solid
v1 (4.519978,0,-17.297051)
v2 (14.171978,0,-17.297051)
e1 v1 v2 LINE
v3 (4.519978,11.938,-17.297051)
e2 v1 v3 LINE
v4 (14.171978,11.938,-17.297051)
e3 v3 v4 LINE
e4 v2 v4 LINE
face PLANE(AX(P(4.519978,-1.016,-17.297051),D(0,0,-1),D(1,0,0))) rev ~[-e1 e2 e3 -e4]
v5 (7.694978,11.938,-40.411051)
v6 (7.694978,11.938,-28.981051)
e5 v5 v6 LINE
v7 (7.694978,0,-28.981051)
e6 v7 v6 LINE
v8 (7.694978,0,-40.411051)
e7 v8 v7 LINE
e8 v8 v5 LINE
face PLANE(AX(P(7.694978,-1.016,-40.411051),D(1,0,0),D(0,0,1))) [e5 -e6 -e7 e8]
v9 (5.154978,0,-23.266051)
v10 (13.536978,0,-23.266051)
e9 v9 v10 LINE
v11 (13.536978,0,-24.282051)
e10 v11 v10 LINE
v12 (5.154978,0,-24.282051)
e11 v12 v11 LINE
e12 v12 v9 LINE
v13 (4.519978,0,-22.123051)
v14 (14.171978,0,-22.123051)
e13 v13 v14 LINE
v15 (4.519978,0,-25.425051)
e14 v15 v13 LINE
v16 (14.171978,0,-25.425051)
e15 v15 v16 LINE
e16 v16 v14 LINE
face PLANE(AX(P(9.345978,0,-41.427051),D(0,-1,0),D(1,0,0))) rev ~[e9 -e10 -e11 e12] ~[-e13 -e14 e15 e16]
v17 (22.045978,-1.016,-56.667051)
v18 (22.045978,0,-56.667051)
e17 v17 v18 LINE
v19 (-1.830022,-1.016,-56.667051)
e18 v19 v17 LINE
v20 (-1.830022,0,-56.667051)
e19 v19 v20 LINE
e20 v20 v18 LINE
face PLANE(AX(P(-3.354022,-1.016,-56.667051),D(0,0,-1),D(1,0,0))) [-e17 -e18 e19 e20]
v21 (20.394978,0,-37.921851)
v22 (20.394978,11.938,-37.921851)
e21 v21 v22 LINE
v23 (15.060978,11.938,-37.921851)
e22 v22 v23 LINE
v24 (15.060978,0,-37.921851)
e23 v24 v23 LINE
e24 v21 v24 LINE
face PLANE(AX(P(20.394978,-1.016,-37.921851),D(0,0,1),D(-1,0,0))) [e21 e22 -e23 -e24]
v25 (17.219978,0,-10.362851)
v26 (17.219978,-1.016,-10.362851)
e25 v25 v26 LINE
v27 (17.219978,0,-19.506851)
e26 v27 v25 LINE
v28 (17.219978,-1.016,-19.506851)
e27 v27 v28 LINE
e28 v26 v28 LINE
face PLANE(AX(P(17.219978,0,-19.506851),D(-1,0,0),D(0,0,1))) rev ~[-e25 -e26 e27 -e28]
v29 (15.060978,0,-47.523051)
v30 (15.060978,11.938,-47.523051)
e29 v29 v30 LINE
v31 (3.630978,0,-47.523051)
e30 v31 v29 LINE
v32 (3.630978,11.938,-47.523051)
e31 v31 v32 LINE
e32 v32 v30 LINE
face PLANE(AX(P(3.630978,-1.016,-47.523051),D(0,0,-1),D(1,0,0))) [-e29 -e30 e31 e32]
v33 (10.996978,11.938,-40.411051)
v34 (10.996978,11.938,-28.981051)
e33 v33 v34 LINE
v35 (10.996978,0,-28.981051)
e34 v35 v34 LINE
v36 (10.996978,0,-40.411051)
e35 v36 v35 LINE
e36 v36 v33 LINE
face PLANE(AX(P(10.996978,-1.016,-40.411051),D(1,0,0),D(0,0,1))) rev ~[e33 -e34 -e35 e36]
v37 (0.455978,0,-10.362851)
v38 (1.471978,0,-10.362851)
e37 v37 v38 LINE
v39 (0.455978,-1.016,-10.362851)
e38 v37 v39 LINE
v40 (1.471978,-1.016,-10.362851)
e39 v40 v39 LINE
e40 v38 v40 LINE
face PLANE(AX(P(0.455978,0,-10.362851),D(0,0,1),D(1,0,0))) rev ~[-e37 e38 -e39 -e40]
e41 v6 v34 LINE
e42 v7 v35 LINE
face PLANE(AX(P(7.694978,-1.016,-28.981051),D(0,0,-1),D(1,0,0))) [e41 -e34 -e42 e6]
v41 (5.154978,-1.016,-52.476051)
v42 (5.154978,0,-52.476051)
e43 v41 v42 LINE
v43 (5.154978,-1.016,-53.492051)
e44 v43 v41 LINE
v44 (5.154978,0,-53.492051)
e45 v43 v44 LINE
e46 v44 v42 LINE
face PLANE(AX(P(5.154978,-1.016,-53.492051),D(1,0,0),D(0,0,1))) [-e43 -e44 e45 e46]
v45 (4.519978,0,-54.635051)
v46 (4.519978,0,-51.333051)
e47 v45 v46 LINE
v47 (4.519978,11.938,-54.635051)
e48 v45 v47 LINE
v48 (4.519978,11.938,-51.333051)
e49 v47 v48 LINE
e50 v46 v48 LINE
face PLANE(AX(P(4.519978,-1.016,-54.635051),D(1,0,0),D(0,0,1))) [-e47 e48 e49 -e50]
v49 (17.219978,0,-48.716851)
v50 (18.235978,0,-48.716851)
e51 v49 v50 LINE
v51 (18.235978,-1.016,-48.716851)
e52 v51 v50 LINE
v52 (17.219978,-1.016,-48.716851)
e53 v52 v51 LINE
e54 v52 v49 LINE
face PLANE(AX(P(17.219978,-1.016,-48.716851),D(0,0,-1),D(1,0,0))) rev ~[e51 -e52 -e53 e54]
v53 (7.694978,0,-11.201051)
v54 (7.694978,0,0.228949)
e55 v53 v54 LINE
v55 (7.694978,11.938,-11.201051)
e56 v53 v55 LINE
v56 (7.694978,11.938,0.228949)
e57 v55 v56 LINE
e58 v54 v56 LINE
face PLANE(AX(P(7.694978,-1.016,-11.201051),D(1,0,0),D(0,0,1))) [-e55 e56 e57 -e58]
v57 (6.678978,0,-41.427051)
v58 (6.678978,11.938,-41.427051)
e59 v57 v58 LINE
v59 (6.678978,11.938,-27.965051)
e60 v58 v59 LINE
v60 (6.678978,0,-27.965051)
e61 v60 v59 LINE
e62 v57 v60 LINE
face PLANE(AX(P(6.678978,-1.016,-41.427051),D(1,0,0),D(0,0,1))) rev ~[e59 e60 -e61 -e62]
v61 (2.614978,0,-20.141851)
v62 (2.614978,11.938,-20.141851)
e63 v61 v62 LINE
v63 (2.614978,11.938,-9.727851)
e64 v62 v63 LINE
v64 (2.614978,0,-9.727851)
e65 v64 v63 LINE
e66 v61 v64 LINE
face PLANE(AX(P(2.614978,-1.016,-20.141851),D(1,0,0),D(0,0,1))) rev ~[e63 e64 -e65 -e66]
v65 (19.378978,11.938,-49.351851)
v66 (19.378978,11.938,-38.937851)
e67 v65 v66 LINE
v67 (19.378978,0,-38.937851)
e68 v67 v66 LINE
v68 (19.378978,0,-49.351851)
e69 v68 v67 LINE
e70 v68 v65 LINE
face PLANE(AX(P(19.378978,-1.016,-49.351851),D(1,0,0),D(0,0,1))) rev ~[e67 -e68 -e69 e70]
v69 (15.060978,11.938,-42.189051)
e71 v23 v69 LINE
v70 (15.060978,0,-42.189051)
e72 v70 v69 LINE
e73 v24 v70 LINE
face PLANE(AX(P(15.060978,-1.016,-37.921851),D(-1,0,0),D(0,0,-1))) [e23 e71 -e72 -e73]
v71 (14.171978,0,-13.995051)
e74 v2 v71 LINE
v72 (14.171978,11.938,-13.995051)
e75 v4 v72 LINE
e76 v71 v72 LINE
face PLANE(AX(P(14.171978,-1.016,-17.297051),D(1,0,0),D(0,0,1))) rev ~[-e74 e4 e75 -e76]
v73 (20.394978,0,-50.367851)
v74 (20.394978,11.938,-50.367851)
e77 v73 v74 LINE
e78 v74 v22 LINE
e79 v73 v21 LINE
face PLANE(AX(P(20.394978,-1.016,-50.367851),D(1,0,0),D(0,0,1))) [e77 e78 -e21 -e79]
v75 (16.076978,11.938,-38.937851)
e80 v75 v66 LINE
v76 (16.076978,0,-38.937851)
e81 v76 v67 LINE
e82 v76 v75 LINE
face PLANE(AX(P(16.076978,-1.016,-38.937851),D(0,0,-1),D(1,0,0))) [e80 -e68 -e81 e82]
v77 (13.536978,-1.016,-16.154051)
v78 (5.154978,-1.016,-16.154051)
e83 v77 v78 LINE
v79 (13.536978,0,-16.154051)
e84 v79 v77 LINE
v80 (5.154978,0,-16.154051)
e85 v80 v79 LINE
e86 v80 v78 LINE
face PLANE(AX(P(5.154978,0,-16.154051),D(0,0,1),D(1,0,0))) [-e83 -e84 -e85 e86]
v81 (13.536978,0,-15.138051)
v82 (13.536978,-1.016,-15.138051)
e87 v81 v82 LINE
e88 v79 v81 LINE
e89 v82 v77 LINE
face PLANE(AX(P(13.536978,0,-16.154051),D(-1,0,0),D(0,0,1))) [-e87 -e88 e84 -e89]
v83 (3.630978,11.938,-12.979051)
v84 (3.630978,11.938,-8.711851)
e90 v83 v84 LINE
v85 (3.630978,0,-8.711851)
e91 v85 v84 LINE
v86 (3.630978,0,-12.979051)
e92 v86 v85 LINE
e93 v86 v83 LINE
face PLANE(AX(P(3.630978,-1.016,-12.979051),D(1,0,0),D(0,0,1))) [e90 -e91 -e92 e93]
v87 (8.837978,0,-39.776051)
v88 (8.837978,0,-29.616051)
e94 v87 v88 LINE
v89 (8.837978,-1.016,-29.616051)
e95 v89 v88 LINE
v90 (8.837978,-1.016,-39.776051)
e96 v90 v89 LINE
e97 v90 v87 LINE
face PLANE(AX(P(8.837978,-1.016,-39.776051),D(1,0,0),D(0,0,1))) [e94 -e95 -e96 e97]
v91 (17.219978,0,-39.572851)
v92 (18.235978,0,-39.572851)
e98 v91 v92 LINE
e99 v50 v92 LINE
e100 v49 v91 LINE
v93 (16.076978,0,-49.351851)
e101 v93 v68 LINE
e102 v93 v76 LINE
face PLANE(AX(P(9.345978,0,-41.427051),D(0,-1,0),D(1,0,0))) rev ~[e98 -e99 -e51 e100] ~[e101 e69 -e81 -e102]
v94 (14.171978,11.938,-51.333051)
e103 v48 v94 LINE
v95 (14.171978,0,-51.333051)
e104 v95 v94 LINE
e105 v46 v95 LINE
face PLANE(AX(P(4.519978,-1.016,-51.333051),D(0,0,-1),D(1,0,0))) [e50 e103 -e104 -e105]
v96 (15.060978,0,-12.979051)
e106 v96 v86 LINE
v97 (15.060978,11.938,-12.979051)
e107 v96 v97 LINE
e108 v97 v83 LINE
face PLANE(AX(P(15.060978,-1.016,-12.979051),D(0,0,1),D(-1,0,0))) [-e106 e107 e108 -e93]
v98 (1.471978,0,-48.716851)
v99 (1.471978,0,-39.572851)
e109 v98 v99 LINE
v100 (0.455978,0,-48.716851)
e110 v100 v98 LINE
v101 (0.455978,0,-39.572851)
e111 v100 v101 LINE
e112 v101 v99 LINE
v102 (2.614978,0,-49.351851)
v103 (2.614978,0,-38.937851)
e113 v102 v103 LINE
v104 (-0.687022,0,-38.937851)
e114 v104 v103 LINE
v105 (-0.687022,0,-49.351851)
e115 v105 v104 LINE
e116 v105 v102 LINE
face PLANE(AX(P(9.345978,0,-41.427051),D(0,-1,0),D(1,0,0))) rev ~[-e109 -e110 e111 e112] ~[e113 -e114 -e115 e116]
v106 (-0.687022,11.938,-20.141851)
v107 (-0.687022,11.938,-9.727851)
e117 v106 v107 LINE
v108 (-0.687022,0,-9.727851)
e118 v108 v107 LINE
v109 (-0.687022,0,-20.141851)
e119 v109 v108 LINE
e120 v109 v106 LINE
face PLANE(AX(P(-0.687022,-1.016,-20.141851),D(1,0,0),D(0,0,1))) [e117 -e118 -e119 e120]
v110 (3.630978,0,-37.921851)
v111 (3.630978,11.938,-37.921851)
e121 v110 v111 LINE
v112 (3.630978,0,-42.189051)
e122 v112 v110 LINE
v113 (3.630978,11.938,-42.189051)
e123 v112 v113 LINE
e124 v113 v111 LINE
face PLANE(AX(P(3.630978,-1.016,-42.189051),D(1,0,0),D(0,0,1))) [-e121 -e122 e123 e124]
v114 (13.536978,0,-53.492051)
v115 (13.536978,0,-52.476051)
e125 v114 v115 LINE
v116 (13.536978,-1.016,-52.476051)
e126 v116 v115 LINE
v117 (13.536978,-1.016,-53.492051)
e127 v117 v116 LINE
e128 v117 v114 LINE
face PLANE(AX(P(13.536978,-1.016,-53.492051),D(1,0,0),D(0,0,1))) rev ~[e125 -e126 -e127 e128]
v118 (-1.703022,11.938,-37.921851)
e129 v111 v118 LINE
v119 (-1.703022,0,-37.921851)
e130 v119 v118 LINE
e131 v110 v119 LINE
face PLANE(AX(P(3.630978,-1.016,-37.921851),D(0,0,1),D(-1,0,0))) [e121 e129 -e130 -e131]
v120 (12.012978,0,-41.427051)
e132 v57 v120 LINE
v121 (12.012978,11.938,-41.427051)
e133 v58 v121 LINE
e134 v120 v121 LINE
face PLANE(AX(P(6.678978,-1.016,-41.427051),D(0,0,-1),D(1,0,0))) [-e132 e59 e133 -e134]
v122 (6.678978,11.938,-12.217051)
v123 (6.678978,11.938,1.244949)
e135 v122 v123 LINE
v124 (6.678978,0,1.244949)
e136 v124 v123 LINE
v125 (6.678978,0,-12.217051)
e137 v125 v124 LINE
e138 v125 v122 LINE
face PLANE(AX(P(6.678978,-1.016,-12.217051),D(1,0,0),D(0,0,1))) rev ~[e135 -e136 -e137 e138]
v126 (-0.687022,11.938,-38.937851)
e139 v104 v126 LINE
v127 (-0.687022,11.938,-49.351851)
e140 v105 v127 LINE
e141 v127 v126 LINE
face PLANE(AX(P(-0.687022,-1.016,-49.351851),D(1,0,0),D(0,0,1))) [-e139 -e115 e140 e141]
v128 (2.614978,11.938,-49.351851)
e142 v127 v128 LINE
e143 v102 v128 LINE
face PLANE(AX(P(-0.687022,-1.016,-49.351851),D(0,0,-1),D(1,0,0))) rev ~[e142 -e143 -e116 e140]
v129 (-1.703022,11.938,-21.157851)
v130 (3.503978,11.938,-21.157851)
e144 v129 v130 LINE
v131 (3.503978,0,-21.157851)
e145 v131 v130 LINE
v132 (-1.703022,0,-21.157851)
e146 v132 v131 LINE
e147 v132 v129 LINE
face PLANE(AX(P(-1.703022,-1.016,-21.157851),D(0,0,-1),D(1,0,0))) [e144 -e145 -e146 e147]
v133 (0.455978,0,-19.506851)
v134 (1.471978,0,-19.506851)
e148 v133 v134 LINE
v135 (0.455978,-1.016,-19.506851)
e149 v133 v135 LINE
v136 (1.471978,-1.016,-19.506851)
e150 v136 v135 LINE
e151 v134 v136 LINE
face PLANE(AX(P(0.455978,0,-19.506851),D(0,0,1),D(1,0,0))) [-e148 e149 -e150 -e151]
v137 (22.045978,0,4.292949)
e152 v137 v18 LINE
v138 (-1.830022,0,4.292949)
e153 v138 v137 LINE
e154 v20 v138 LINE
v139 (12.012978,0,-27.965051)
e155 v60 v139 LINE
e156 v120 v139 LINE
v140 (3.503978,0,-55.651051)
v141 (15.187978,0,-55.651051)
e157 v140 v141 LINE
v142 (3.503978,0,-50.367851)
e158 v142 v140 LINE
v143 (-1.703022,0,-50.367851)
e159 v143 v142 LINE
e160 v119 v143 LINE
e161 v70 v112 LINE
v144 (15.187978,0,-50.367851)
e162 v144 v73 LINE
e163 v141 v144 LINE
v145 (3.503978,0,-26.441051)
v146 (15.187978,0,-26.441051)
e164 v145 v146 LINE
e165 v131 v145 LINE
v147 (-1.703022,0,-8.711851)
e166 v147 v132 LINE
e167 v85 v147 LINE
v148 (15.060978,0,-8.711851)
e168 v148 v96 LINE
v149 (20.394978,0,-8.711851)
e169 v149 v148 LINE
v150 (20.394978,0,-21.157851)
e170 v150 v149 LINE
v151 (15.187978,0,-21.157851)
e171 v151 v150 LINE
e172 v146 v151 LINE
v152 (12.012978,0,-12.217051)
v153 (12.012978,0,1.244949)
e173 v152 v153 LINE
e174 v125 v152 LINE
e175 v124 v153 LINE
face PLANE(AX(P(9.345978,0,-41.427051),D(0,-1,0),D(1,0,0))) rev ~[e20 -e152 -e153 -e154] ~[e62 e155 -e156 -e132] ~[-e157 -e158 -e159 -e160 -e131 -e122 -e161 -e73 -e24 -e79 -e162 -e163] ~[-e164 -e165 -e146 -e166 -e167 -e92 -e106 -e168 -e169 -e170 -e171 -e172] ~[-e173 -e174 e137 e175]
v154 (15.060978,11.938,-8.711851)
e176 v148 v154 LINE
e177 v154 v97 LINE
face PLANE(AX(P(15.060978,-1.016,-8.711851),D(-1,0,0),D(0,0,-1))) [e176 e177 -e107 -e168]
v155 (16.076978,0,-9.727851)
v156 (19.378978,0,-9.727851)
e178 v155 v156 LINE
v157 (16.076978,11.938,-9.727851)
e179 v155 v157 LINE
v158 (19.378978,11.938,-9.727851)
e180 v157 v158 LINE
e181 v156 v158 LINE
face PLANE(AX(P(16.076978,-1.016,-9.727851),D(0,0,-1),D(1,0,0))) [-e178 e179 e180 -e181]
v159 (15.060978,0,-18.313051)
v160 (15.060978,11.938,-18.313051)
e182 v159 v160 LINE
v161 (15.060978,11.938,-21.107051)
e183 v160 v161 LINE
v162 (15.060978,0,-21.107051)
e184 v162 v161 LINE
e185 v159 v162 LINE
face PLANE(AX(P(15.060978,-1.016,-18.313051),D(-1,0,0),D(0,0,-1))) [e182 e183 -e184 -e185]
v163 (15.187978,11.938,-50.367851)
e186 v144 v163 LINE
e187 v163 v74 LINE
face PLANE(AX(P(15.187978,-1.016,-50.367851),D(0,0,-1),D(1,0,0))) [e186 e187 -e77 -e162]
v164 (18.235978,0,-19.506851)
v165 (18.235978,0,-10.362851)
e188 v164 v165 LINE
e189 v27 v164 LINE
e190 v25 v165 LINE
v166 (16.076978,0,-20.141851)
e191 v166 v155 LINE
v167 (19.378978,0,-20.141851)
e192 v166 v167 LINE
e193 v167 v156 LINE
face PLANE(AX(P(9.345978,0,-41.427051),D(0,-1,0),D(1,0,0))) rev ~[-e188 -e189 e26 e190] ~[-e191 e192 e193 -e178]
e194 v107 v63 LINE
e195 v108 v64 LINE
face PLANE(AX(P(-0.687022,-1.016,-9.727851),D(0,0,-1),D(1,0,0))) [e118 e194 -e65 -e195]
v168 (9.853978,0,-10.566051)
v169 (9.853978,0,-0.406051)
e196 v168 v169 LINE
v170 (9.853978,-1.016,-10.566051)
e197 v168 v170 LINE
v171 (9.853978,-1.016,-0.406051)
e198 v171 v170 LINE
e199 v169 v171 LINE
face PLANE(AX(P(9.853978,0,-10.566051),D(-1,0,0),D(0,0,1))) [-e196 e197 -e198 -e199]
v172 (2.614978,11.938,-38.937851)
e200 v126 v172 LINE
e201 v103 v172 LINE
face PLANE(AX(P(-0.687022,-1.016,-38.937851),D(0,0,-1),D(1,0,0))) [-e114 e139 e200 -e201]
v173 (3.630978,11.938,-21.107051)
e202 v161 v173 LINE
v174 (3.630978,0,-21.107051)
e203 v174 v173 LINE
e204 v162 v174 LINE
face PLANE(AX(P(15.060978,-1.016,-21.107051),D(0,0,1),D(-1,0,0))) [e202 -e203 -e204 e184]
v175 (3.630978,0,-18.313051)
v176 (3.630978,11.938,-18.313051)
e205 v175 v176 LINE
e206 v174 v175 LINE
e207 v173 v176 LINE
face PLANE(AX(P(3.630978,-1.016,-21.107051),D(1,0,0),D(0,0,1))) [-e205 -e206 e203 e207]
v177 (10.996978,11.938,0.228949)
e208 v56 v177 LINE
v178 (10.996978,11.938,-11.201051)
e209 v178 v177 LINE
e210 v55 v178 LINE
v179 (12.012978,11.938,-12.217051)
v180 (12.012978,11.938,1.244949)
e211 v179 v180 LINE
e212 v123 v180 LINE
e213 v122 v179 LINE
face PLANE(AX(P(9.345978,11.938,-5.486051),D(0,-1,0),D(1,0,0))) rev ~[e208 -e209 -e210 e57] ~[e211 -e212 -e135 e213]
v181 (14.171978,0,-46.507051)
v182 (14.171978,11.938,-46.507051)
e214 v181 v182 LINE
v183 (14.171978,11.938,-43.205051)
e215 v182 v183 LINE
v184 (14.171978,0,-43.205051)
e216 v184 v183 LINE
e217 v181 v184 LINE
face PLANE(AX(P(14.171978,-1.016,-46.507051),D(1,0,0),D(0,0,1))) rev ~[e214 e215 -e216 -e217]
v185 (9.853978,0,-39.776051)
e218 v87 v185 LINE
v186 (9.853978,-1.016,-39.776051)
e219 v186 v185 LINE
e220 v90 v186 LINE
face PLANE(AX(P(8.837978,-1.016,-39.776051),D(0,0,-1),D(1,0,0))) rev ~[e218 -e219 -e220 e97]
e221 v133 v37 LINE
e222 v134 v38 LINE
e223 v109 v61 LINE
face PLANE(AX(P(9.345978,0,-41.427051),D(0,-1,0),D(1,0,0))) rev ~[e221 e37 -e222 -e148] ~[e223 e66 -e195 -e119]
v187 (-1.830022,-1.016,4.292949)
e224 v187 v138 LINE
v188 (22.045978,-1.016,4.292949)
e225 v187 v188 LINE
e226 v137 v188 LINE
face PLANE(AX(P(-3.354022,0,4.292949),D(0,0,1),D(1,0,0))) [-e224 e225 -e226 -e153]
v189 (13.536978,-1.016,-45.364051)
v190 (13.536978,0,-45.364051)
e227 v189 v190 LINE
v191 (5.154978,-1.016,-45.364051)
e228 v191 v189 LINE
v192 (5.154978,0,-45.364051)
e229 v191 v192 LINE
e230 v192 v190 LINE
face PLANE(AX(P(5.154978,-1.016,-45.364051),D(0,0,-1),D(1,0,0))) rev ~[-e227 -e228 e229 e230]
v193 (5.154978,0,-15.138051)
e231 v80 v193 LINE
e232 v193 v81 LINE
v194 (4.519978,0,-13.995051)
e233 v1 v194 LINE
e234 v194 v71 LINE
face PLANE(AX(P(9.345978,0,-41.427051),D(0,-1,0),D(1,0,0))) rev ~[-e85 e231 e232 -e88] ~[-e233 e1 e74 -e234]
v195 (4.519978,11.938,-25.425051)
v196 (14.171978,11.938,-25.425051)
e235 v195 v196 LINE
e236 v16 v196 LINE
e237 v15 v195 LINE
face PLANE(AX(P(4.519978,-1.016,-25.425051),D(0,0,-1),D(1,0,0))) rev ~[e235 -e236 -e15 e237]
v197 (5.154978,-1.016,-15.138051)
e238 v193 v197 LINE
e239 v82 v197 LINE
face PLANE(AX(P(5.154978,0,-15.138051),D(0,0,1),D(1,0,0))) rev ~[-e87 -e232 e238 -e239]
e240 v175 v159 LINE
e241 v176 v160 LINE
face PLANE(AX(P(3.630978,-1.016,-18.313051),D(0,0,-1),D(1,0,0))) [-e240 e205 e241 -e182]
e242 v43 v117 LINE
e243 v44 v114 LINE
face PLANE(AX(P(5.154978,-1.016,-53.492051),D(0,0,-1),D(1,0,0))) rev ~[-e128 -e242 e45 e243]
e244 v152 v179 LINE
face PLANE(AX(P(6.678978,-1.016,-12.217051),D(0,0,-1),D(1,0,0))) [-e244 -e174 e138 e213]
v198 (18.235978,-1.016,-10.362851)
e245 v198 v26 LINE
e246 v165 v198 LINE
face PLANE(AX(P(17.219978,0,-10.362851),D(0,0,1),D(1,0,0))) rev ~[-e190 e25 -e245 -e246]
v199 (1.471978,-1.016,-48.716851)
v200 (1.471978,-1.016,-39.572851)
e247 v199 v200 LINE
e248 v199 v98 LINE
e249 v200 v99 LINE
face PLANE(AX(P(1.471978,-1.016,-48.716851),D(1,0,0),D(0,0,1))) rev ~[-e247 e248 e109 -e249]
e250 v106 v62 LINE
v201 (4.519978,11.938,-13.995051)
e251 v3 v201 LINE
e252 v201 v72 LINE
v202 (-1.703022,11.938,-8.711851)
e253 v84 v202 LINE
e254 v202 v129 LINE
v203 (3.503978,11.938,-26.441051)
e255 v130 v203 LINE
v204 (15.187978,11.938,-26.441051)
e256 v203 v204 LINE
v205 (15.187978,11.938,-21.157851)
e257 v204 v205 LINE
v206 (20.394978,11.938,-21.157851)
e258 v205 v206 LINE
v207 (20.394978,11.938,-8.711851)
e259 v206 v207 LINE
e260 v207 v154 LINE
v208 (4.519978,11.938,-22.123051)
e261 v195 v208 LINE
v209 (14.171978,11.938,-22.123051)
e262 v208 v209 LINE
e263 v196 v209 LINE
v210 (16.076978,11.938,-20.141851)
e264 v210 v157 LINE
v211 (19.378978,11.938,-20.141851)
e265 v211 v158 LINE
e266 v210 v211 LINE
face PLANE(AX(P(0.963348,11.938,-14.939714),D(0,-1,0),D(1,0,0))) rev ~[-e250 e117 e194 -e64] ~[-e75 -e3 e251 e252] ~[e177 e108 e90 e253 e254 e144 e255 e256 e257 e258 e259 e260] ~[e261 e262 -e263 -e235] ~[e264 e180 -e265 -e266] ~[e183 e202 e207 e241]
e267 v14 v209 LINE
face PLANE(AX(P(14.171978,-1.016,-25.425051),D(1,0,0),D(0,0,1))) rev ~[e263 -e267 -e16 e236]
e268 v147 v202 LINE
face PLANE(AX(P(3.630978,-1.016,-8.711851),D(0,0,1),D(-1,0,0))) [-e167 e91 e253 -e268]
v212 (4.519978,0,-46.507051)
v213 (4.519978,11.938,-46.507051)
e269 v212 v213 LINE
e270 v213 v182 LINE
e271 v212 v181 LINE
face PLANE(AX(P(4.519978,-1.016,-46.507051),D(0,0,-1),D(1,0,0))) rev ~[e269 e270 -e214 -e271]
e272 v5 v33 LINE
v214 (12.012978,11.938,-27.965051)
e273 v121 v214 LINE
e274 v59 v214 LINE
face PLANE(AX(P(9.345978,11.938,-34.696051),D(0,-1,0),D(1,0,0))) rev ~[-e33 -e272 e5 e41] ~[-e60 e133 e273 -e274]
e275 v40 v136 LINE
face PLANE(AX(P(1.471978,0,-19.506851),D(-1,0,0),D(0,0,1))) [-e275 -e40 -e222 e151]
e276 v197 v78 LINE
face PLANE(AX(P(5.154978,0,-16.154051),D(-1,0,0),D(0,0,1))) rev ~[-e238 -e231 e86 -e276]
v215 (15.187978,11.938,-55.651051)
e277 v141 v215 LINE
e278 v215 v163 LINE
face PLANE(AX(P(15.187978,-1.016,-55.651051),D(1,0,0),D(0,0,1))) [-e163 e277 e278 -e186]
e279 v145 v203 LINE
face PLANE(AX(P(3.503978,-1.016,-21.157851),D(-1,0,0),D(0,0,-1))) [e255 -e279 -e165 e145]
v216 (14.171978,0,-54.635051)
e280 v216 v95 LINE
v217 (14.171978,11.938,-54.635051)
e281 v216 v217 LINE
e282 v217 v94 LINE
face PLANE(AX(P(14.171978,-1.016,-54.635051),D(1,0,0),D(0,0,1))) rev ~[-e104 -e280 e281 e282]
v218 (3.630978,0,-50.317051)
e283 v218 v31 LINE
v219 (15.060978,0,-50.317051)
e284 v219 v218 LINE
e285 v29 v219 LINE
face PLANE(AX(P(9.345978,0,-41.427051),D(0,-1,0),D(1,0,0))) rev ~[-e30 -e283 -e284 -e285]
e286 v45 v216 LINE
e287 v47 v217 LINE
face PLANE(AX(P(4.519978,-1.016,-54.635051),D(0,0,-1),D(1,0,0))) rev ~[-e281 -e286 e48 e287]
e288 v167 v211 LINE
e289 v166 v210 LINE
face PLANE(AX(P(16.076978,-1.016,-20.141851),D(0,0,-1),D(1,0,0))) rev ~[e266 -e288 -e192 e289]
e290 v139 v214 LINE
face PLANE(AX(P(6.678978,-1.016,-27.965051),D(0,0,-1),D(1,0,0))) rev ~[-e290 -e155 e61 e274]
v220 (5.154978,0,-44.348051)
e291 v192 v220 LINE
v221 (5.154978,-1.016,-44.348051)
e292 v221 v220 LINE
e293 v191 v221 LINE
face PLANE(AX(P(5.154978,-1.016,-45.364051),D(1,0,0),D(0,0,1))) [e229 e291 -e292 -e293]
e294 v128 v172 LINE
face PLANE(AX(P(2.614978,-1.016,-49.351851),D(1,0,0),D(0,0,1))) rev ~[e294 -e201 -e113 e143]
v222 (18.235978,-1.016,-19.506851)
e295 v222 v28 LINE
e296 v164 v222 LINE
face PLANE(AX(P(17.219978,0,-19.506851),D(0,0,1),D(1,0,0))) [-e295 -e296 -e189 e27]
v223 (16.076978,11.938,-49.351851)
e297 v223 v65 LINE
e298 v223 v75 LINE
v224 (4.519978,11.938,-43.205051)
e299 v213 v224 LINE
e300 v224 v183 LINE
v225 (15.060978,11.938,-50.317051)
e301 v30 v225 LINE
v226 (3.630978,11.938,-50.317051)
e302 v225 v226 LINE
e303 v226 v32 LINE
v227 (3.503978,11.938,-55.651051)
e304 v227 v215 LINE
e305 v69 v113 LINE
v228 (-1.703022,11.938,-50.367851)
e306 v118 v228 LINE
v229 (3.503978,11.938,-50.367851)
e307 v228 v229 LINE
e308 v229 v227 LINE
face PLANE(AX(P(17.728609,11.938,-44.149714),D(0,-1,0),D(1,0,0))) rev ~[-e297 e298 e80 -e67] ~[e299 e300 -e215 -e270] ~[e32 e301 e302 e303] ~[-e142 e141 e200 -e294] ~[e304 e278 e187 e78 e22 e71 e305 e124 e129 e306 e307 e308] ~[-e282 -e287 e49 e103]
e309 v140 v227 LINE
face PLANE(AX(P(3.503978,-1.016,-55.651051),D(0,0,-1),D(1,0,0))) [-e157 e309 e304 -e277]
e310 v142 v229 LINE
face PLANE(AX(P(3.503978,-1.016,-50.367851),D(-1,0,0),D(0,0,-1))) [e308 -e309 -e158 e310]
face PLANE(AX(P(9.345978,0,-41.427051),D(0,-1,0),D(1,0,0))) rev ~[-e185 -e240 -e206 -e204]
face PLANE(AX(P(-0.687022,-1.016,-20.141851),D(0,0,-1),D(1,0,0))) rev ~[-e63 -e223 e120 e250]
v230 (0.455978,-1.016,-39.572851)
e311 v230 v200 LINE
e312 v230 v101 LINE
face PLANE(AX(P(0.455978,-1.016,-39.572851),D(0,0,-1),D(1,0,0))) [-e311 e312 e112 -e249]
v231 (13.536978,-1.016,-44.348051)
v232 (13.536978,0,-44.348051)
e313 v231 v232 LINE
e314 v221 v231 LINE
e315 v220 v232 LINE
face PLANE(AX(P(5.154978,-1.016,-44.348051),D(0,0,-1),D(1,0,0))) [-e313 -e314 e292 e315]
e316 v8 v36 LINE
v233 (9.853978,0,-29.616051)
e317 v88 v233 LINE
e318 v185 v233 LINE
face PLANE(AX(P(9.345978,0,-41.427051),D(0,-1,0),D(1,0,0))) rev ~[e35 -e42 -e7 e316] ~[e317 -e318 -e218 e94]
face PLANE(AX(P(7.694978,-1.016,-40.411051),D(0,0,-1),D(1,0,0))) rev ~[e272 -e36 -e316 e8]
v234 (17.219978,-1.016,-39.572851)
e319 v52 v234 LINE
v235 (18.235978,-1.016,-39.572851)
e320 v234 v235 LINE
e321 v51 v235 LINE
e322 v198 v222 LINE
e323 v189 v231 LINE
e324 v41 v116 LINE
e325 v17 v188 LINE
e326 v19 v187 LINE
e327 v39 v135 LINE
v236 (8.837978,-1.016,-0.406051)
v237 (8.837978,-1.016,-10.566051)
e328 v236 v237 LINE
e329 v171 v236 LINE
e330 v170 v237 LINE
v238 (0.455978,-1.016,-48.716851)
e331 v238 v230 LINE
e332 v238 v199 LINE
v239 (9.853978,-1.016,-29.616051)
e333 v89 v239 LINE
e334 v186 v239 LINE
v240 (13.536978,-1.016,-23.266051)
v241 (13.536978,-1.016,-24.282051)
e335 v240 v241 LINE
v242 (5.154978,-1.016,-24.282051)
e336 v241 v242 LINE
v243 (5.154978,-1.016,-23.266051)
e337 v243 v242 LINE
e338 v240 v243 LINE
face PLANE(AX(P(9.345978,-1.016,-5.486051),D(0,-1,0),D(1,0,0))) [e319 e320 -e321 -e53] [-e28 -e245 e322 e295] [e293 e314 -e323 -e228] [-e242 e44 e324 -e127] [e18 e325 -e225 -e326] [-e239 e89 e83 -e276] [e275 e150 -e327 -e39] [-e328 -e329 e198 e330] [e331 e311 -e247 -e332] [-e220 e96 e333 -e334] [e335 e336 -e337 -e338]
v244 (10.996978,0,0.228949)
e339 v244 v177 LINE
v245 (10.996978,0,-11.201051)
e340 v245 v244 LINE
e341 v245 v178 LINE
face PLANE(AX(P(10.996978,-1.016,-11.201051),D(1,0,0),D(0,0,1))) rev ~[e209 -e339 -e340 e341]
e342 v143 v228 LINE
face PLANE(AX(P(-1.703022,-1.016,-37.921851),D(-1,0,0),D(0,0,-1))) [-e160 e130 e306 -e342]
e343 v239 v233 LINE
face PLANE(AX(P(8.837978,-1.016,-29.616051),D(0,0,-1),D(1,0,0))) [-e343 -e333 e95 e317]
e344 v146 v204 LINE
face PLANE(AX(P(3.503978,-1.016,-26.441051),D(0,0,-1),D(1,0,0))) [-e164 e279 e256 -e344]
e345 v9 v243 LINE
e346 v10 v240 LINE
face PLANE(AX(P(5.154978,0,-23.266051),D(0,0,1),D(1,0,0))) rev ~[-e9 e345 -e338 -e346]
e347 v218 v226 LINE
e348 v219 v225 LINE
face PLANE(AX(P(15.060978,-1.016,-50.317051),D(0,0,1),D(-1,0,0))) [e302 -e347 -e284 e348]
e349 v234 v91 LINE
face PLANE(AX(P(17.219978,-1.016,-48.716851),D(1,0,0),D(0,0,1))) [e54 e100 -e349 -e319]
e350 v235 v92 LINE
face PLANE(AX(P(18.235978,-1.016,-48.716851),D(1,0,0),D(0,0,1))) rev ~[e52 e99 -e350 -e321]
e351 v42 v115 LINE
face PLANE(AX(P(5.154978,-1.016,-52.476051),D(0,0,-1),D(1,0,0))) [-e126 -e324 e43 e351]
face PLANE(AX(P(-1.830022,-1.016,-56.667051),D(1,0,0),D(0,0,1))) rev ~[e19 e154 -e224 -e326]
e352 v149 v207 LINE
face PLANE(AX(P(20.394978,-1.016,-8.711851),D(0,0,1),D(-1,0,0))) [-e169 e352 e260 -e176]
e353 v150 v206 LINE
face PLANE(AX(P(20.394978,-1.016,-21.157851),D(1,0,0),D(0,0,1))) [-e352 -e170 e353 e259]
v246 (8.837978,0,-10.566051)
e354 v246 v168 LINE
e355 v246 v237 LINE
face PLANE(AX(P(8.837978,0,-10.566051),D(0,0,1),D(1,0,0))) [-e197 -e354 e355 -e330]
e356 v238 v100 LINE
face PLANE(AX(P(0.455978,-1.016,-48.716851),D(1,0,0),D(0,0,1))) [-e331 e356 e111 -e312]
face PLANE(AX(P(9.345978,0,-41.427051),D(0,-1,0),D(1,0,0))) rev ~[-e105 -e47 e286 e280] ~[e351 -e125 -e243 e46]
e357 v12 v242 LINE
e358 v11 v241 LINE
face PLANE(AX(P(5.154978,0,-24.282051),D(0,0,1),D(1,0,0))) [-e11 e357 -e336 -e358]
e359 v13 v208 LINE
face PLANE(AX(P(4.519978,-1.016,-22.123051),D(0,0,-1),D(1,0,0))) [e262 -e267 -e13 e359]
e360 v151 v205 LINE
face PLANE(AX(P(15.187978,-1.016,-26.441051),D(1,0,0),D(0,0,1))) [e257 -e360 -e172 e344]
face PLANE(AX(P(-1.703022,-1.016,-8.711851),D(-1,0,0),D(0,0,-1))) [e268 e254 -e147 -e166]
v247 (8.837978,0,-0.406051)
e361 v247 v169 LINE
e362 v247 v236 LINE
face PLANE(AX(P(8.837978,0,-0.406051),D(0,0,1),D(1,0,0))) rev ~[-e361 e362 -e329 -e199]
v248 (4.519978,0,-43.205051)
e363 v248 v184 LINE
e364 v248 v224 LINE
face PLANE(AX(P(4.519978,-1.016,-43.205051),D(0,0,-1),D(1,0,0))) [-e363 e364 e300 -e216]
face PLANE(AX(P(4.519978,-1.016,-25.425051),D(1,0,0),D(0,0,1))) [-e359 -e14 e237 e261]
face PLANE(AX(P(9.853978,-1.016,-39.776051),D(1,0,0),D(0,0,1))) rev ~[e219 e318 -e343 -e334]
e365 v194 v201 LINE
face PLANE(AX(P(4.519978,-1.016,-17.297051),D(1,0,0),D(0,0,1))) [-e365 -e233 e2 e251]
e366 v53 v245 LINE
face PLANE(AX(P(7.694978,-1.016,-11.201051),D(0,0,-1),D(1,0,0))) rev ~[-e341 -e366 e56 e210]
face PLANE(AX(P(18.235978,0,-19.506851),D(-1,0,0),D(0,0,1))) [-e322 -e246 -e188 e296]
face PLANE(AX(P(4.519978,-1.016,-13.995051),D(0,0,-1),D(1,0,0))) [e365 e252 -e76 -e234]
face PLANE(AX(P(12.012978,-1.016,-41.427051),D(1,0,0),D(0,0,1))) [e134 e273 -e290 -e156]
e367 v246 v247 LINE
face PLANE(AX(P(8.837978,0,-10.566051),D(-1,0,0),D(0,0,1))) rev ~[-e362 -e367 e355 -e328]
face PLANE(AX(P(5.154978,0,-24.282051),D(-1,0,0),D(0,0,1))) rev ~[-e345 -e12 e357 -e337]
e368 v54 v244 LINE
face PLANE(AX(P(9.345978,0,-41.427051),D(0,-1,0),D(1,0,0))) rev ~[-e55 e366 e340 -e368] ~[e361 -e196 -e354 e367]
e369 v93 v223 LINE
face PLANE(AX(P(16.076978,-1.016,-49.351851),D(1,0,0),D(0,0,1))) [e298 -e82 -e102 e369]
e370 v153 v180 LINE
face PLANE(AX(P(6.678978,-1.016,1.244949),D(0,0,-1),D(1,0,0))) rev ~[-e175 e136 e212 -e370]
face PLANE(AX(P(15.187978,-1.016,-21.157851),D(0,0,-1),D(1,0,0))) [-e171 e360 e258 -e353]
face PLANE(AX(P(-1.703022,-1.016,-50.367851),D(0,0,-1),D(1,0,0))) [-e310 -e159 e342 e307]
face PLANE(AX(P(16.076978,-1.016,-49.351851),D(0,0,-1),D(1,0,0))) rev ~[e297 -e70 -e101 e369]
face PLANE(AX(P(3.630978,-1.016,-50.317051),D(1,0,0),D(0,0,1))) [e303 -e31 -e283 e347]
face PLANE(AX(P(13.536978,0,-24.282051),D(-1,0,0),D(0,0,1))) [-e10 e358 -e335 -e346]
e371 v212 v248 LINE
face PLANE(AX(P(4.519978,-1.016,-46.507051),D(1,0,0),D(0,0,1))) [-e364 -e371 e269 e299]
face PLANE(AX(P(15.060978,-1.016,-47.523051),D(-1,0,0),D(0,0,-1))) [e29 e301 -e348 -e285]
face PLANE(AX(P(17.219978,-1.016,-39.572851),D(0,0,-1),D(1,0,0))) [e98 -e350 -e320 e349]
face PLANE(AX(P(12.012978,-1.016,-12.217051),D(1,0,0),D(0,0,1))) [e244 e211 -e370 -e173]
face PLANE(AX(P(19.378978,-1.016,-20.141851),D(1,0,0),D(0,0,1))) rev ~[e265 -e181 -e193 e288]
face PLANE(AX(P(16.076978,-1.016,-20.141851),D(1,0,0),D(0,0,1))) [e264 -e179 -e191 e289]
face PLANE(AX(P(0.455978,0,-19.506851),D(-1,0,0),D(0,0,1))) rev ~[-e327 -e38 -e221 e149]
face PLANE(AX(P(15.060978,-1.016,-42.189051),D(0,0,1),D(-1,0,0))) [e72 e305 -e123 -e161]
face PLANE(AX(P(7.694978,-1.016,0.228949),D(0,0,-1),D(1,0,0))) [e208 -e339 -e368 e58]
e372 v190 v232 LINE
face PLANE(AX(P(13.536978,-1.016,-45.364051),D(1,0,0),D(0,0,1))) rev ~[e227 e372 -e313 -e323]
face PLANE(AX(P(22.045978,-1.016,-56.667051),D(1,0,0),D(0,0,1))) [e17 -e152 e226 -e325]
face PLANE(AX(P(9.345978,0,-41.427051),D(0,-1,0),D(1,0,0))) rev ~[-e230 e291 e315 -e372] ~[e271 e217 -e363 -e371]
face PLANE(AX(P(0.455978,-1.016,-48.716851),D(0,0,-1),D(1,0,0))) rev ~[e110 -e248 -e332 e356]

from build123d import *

# Parameters (mm, degrees)
F0_W      = 25.4
F0_H      = 30.48
F1_DEPTH  = 1.016
F2_W      = 1.016
F2_H      = 10.16
F2_H_2    = 9.144
F2_W_2    = 8.382
F2_H_3    = 1.016
F3_DEPTH  = 1.017
F4_W      = 25.4
F4_H      = 30.48
F5_DEPTH  = 1.016
F6_W      = 1.016
F6_H      = 9.144
F6_W_2    = 8.382
F6_H_2    = 1.016
F6_H_3    = 10.16
F7_DEPTH  = 1.017
F8_W      = 5.334
F8_H      = 13.462
F8_W_2    = 3.302
F8_H_2    = 11.43
F8_H_3    = 10.414
F8_W_3    = 11.43
F8_H_4    = 5.334
F8_W_4    = 9.652
F8_H_5    = 3.302
F8_W_5    = 0.127
F8_H_6    = 0.0508
F9_DEPTH  = 12.954
F10_W     = 1.524
F10_H     = 60.96
F11_DEPTH = 25.4


with BuildPart() as f1:
    # F0 (on Front) → F1 (new body)
    with BuildSketch(Plane.XZ):
        with Locations((9.3459782816, -10.94705052)):
            Rectangle(F0_W, F0_H)
    extrude(amount=F1_DEPTH)

    # F2 (on Front) → F3 (cut, through all)
    with BuildSketch(Plane.XZ):
        with Locations((9.3459782816, -5.48605052)):
            Rectangle(F2_W, F2_H)
        with Locations((0.9639782816, -14.93485052)):
            Rectangle(F2_W, F2_H_2)
        with Locations((17.7279782816, -14.93485052)):
            Rectangle(F2_W, F2_H_2)
        with Locations((9.3459782816, -15.64605052)):
            Rectangle(F2_W_2, F2_H_3)
        with Locations((9.3459782816, -23.77405052)):
            Rectangle(F2_W_2, F2_H_3)
    extrude(amount=F3_DEPTH, mode=Mode.SUBTRACT)

    # F4 (on face) → F5 (join)
    with BuildSketch(Plane.XZ.offset(1.016)):
        with Locations((9.3459782816, -41.42705052)):
            Rectangle(F4_W, F4_H)
    extrude(amount=-F5_DEPTH)

    # F6 (on face) → F7 (cut, through all)
    with BuildSketch(Plane.XZ.offset(1.016)):
        with Locations((0.9639782816, -14.93485052)):
            Rectangle(F6_W, F6_H)
        with Locations((9.3459782816, -15.64605052)):
            Rectangle(F6_W_2, F6_H_2)
        with Locations((9.3459782816, -5.48605052)):
            Rectangle(F6_W, F6_H_3)
        with Locations((17.7279782816, -14.93485052)):
            Rectangle(F6_W, F6_H)
        with Locations((9.3459782816, -23.77405052)):
            Rectangle(F6_W_2, F6_H_2)
        with Locations((9.3459782816, -34.69605052)):
            Rectangle(F6_W, F6_H_3)
        with Locations((17.7279782816, -44.14485052)):
            Rectangle(F6_W, F6_H)
        with Locations((9.3459782816, -44.85605052)):
            Rectangle(F6_W_2, F6_H_2)
        with Locations((9.3459782816, -52.98405052)):
            Rectangle(F6_W_2, F6_H_2)
        with Locations((0.9639782816, -44.14485052)):
            Rectangle(F6_W, F6_H)
    extrude(amount=-F7_DEPTH, mode=Mode.SUBTRACT)

    # F8 (on face) → F9 (join)
    with BuildSketch(Plane.XZ.offset(1.016)):
        with Locations((9.3459782816, -5.48605052)):
            Rectangle(F8_W, F8_H)
        with Locations((9.3459782816, -5.48605052)):
            Rectangle(F8_W_2, F8_H_2, mode=Mode.SUBTRACT)
        Polygon((3.6309782816, -12.97905052), (3.6309782816, -8.71185052), (-1.7030217184, -8.71185052), (-1.7030217184, -21.15785052), (3.5039782816, -21.15785052), (3.5039782816, -21.10705052), (3.6309782816, -21.10705052), (3.6309782816, -18.31305052), (3.5039782816, -18.31305052), (3.5039782816, -12.97905052), align=None)
        with Locations((0.9639782816, -14.93485052)):
            Rectangle(F8_W_2, F8_H_3, mode=Mode.SUBTRACT)
        with Locations((9.3459782816, -15.64605052)):
            Rectangle(F8_W_3, F8_H_4)
        with Locations((9.3459782816, -15.64605052)):
            Rectangle(F8_W_4, F8_H_5, mode=Mode.SUBTRACT)
        with Locations((3.5674782816, -15.64605052)):
            Rectangle(F8_W_5, F8_H_4)
        with Locations((15.1244782816, -15.64605052)):
            Rectangle(F8_W_5, F8_H_4)
        Polygon((15.0609782816, -8.71185052), (15.0609782816, -12.97905052), (15.1879782816, -12.97905052), (15.1879782816, -18.31305052), (15.0609782816, -18.31305052), (15.0609782816, -21.10705052), (15.1879782816, -21.10705052), (15.1879782816, -21.15785052), (20.3949782816, -21.15785052), (20.3949782816, -8.71185052), align=None)
        with Locations((17.7279782816, -14.93485052)):
            Rectangle(F8_W_2, F8_H_3, mode=Mode.SUBTRACT)
        with Locations((3.5674782816, -21.13245052)):
            Rectangle(F8_W_5, F8_H_6)
        Polygon((3.6309782816, -21.15785052), (3.5039782816, -21.15785052), (3.5039782816, -26.44105052), (15.1879782816, -26.44105052), (15.1879782816, -21.15785052), (15.0609782816, -21.15785052), (15.0609782816, -21.10705052), (3.6309782816, -21.10705052), align=None)
        with Locations((9.3459782816, -23.77405052)):
            Rectangle(F8_W_4, F8_H_5, mode=Mode.SUBTRACT)
        with Locations((15.1244782816, -21.13245052)):
            Rectangle(F8_W_5, F8_H_6)
        with Locations((9.3459782816, -34.69605052)):
            Rectangle(F8_W, F8_H)
        with Locations((9.3459782816, -34.69605052)):
            Rectangle(F8_W_2, F8_H_2, mode=Mode.SUBTRACT)
        Polygon((20.3949782816, -37.92185052), (15.0609782816, -37.92185052), (15.0609782816, -42.18905052), (15.1879782816, -42.18905052), (15.1879782816, -47.52305052), (15.0609782816, -47.52305052), (15.0609782816, -50.31705052), (15.1879782816, -50.31705052), (15.1879782816, -50.36785052), (20.3949782816, -50.36785052), align=None)
        with Locations((17.7279782816, -44.14485052)):
            Rectangle(F8_W_2, F8_H_3, mode=Mode.SUBTRACT)
        with Locations((15.1244782816, -44.85605052)):
            Rectangle(F8_W_5, F8_H_4)
        with Locations((9.3459782816, -44.85605052)):
            Rectangle(F8_W_3, F8_H_4)
        with Locations((9.3459782816, -44.85605052)):
            Rectangle(F8_W_4, F8_H_5, mode=Mode.SUBTRACT)
        with Locations((3.5674782816, -44.85605052)):
            Rectangle(F8_W_5, F8_H_4)
        Polygon((3.5039782816, -42.18905052), (3.6309782816, -42.18905052), (3.6309782816, -37.92185052), (-1.7030217184, -37.92185052), (-1.7030217184, -50.36785052), (3.5039782816, -50.36785052), (3.5039782816, -50.31705052), (3.6309782816, -50.31705052), (3.6309782816, -47.52305052), (3.5039782816, -47.52305052), align=None)
        with Locations((0.9639782816, -44.14485052)):
            Rectangle(F8_W_2, F8_H_3, mode=Mode.SUBTRACT)
        with Locations((15.1244782816, -50.34245052)):
            Rectangle(F8_W_5, F8_H_6)
        Polygon((15.0609782816, -50.36785052), (15.0609782816, -50.31705052), (3.6309782816, -50.31705052), (3.6309782816, -50.36785052), (3.5039782816, -50.36785052), (3.5039782816, -55.65105052), (15.1879782816, -55.65105052), (15.1879782816, -50.36785052), align=None)
        with Locations((9.3459782816, -52.98405052)):
            Rectangle(F8_W_4, F8_H_5, mode=Mode.SUBTRACT)
        with Locations((3.5674782816, -50.34245052)):
            Rectangle(F8_W_5, F8_H_6)
    extrude(amount=-F9_DEPTH)

    # F10 (on face) → F11 (cut)
    with BuildSketch(Plane.XZ.offset(1.016)):
        with Locations((-2.5920217184, -26.18705052)):
            Rectangle(F10_W, F10_H)
    extrude(amount=-F11_DEPTH, mode=Mode.SUBTRACT)


solid = f1.part
